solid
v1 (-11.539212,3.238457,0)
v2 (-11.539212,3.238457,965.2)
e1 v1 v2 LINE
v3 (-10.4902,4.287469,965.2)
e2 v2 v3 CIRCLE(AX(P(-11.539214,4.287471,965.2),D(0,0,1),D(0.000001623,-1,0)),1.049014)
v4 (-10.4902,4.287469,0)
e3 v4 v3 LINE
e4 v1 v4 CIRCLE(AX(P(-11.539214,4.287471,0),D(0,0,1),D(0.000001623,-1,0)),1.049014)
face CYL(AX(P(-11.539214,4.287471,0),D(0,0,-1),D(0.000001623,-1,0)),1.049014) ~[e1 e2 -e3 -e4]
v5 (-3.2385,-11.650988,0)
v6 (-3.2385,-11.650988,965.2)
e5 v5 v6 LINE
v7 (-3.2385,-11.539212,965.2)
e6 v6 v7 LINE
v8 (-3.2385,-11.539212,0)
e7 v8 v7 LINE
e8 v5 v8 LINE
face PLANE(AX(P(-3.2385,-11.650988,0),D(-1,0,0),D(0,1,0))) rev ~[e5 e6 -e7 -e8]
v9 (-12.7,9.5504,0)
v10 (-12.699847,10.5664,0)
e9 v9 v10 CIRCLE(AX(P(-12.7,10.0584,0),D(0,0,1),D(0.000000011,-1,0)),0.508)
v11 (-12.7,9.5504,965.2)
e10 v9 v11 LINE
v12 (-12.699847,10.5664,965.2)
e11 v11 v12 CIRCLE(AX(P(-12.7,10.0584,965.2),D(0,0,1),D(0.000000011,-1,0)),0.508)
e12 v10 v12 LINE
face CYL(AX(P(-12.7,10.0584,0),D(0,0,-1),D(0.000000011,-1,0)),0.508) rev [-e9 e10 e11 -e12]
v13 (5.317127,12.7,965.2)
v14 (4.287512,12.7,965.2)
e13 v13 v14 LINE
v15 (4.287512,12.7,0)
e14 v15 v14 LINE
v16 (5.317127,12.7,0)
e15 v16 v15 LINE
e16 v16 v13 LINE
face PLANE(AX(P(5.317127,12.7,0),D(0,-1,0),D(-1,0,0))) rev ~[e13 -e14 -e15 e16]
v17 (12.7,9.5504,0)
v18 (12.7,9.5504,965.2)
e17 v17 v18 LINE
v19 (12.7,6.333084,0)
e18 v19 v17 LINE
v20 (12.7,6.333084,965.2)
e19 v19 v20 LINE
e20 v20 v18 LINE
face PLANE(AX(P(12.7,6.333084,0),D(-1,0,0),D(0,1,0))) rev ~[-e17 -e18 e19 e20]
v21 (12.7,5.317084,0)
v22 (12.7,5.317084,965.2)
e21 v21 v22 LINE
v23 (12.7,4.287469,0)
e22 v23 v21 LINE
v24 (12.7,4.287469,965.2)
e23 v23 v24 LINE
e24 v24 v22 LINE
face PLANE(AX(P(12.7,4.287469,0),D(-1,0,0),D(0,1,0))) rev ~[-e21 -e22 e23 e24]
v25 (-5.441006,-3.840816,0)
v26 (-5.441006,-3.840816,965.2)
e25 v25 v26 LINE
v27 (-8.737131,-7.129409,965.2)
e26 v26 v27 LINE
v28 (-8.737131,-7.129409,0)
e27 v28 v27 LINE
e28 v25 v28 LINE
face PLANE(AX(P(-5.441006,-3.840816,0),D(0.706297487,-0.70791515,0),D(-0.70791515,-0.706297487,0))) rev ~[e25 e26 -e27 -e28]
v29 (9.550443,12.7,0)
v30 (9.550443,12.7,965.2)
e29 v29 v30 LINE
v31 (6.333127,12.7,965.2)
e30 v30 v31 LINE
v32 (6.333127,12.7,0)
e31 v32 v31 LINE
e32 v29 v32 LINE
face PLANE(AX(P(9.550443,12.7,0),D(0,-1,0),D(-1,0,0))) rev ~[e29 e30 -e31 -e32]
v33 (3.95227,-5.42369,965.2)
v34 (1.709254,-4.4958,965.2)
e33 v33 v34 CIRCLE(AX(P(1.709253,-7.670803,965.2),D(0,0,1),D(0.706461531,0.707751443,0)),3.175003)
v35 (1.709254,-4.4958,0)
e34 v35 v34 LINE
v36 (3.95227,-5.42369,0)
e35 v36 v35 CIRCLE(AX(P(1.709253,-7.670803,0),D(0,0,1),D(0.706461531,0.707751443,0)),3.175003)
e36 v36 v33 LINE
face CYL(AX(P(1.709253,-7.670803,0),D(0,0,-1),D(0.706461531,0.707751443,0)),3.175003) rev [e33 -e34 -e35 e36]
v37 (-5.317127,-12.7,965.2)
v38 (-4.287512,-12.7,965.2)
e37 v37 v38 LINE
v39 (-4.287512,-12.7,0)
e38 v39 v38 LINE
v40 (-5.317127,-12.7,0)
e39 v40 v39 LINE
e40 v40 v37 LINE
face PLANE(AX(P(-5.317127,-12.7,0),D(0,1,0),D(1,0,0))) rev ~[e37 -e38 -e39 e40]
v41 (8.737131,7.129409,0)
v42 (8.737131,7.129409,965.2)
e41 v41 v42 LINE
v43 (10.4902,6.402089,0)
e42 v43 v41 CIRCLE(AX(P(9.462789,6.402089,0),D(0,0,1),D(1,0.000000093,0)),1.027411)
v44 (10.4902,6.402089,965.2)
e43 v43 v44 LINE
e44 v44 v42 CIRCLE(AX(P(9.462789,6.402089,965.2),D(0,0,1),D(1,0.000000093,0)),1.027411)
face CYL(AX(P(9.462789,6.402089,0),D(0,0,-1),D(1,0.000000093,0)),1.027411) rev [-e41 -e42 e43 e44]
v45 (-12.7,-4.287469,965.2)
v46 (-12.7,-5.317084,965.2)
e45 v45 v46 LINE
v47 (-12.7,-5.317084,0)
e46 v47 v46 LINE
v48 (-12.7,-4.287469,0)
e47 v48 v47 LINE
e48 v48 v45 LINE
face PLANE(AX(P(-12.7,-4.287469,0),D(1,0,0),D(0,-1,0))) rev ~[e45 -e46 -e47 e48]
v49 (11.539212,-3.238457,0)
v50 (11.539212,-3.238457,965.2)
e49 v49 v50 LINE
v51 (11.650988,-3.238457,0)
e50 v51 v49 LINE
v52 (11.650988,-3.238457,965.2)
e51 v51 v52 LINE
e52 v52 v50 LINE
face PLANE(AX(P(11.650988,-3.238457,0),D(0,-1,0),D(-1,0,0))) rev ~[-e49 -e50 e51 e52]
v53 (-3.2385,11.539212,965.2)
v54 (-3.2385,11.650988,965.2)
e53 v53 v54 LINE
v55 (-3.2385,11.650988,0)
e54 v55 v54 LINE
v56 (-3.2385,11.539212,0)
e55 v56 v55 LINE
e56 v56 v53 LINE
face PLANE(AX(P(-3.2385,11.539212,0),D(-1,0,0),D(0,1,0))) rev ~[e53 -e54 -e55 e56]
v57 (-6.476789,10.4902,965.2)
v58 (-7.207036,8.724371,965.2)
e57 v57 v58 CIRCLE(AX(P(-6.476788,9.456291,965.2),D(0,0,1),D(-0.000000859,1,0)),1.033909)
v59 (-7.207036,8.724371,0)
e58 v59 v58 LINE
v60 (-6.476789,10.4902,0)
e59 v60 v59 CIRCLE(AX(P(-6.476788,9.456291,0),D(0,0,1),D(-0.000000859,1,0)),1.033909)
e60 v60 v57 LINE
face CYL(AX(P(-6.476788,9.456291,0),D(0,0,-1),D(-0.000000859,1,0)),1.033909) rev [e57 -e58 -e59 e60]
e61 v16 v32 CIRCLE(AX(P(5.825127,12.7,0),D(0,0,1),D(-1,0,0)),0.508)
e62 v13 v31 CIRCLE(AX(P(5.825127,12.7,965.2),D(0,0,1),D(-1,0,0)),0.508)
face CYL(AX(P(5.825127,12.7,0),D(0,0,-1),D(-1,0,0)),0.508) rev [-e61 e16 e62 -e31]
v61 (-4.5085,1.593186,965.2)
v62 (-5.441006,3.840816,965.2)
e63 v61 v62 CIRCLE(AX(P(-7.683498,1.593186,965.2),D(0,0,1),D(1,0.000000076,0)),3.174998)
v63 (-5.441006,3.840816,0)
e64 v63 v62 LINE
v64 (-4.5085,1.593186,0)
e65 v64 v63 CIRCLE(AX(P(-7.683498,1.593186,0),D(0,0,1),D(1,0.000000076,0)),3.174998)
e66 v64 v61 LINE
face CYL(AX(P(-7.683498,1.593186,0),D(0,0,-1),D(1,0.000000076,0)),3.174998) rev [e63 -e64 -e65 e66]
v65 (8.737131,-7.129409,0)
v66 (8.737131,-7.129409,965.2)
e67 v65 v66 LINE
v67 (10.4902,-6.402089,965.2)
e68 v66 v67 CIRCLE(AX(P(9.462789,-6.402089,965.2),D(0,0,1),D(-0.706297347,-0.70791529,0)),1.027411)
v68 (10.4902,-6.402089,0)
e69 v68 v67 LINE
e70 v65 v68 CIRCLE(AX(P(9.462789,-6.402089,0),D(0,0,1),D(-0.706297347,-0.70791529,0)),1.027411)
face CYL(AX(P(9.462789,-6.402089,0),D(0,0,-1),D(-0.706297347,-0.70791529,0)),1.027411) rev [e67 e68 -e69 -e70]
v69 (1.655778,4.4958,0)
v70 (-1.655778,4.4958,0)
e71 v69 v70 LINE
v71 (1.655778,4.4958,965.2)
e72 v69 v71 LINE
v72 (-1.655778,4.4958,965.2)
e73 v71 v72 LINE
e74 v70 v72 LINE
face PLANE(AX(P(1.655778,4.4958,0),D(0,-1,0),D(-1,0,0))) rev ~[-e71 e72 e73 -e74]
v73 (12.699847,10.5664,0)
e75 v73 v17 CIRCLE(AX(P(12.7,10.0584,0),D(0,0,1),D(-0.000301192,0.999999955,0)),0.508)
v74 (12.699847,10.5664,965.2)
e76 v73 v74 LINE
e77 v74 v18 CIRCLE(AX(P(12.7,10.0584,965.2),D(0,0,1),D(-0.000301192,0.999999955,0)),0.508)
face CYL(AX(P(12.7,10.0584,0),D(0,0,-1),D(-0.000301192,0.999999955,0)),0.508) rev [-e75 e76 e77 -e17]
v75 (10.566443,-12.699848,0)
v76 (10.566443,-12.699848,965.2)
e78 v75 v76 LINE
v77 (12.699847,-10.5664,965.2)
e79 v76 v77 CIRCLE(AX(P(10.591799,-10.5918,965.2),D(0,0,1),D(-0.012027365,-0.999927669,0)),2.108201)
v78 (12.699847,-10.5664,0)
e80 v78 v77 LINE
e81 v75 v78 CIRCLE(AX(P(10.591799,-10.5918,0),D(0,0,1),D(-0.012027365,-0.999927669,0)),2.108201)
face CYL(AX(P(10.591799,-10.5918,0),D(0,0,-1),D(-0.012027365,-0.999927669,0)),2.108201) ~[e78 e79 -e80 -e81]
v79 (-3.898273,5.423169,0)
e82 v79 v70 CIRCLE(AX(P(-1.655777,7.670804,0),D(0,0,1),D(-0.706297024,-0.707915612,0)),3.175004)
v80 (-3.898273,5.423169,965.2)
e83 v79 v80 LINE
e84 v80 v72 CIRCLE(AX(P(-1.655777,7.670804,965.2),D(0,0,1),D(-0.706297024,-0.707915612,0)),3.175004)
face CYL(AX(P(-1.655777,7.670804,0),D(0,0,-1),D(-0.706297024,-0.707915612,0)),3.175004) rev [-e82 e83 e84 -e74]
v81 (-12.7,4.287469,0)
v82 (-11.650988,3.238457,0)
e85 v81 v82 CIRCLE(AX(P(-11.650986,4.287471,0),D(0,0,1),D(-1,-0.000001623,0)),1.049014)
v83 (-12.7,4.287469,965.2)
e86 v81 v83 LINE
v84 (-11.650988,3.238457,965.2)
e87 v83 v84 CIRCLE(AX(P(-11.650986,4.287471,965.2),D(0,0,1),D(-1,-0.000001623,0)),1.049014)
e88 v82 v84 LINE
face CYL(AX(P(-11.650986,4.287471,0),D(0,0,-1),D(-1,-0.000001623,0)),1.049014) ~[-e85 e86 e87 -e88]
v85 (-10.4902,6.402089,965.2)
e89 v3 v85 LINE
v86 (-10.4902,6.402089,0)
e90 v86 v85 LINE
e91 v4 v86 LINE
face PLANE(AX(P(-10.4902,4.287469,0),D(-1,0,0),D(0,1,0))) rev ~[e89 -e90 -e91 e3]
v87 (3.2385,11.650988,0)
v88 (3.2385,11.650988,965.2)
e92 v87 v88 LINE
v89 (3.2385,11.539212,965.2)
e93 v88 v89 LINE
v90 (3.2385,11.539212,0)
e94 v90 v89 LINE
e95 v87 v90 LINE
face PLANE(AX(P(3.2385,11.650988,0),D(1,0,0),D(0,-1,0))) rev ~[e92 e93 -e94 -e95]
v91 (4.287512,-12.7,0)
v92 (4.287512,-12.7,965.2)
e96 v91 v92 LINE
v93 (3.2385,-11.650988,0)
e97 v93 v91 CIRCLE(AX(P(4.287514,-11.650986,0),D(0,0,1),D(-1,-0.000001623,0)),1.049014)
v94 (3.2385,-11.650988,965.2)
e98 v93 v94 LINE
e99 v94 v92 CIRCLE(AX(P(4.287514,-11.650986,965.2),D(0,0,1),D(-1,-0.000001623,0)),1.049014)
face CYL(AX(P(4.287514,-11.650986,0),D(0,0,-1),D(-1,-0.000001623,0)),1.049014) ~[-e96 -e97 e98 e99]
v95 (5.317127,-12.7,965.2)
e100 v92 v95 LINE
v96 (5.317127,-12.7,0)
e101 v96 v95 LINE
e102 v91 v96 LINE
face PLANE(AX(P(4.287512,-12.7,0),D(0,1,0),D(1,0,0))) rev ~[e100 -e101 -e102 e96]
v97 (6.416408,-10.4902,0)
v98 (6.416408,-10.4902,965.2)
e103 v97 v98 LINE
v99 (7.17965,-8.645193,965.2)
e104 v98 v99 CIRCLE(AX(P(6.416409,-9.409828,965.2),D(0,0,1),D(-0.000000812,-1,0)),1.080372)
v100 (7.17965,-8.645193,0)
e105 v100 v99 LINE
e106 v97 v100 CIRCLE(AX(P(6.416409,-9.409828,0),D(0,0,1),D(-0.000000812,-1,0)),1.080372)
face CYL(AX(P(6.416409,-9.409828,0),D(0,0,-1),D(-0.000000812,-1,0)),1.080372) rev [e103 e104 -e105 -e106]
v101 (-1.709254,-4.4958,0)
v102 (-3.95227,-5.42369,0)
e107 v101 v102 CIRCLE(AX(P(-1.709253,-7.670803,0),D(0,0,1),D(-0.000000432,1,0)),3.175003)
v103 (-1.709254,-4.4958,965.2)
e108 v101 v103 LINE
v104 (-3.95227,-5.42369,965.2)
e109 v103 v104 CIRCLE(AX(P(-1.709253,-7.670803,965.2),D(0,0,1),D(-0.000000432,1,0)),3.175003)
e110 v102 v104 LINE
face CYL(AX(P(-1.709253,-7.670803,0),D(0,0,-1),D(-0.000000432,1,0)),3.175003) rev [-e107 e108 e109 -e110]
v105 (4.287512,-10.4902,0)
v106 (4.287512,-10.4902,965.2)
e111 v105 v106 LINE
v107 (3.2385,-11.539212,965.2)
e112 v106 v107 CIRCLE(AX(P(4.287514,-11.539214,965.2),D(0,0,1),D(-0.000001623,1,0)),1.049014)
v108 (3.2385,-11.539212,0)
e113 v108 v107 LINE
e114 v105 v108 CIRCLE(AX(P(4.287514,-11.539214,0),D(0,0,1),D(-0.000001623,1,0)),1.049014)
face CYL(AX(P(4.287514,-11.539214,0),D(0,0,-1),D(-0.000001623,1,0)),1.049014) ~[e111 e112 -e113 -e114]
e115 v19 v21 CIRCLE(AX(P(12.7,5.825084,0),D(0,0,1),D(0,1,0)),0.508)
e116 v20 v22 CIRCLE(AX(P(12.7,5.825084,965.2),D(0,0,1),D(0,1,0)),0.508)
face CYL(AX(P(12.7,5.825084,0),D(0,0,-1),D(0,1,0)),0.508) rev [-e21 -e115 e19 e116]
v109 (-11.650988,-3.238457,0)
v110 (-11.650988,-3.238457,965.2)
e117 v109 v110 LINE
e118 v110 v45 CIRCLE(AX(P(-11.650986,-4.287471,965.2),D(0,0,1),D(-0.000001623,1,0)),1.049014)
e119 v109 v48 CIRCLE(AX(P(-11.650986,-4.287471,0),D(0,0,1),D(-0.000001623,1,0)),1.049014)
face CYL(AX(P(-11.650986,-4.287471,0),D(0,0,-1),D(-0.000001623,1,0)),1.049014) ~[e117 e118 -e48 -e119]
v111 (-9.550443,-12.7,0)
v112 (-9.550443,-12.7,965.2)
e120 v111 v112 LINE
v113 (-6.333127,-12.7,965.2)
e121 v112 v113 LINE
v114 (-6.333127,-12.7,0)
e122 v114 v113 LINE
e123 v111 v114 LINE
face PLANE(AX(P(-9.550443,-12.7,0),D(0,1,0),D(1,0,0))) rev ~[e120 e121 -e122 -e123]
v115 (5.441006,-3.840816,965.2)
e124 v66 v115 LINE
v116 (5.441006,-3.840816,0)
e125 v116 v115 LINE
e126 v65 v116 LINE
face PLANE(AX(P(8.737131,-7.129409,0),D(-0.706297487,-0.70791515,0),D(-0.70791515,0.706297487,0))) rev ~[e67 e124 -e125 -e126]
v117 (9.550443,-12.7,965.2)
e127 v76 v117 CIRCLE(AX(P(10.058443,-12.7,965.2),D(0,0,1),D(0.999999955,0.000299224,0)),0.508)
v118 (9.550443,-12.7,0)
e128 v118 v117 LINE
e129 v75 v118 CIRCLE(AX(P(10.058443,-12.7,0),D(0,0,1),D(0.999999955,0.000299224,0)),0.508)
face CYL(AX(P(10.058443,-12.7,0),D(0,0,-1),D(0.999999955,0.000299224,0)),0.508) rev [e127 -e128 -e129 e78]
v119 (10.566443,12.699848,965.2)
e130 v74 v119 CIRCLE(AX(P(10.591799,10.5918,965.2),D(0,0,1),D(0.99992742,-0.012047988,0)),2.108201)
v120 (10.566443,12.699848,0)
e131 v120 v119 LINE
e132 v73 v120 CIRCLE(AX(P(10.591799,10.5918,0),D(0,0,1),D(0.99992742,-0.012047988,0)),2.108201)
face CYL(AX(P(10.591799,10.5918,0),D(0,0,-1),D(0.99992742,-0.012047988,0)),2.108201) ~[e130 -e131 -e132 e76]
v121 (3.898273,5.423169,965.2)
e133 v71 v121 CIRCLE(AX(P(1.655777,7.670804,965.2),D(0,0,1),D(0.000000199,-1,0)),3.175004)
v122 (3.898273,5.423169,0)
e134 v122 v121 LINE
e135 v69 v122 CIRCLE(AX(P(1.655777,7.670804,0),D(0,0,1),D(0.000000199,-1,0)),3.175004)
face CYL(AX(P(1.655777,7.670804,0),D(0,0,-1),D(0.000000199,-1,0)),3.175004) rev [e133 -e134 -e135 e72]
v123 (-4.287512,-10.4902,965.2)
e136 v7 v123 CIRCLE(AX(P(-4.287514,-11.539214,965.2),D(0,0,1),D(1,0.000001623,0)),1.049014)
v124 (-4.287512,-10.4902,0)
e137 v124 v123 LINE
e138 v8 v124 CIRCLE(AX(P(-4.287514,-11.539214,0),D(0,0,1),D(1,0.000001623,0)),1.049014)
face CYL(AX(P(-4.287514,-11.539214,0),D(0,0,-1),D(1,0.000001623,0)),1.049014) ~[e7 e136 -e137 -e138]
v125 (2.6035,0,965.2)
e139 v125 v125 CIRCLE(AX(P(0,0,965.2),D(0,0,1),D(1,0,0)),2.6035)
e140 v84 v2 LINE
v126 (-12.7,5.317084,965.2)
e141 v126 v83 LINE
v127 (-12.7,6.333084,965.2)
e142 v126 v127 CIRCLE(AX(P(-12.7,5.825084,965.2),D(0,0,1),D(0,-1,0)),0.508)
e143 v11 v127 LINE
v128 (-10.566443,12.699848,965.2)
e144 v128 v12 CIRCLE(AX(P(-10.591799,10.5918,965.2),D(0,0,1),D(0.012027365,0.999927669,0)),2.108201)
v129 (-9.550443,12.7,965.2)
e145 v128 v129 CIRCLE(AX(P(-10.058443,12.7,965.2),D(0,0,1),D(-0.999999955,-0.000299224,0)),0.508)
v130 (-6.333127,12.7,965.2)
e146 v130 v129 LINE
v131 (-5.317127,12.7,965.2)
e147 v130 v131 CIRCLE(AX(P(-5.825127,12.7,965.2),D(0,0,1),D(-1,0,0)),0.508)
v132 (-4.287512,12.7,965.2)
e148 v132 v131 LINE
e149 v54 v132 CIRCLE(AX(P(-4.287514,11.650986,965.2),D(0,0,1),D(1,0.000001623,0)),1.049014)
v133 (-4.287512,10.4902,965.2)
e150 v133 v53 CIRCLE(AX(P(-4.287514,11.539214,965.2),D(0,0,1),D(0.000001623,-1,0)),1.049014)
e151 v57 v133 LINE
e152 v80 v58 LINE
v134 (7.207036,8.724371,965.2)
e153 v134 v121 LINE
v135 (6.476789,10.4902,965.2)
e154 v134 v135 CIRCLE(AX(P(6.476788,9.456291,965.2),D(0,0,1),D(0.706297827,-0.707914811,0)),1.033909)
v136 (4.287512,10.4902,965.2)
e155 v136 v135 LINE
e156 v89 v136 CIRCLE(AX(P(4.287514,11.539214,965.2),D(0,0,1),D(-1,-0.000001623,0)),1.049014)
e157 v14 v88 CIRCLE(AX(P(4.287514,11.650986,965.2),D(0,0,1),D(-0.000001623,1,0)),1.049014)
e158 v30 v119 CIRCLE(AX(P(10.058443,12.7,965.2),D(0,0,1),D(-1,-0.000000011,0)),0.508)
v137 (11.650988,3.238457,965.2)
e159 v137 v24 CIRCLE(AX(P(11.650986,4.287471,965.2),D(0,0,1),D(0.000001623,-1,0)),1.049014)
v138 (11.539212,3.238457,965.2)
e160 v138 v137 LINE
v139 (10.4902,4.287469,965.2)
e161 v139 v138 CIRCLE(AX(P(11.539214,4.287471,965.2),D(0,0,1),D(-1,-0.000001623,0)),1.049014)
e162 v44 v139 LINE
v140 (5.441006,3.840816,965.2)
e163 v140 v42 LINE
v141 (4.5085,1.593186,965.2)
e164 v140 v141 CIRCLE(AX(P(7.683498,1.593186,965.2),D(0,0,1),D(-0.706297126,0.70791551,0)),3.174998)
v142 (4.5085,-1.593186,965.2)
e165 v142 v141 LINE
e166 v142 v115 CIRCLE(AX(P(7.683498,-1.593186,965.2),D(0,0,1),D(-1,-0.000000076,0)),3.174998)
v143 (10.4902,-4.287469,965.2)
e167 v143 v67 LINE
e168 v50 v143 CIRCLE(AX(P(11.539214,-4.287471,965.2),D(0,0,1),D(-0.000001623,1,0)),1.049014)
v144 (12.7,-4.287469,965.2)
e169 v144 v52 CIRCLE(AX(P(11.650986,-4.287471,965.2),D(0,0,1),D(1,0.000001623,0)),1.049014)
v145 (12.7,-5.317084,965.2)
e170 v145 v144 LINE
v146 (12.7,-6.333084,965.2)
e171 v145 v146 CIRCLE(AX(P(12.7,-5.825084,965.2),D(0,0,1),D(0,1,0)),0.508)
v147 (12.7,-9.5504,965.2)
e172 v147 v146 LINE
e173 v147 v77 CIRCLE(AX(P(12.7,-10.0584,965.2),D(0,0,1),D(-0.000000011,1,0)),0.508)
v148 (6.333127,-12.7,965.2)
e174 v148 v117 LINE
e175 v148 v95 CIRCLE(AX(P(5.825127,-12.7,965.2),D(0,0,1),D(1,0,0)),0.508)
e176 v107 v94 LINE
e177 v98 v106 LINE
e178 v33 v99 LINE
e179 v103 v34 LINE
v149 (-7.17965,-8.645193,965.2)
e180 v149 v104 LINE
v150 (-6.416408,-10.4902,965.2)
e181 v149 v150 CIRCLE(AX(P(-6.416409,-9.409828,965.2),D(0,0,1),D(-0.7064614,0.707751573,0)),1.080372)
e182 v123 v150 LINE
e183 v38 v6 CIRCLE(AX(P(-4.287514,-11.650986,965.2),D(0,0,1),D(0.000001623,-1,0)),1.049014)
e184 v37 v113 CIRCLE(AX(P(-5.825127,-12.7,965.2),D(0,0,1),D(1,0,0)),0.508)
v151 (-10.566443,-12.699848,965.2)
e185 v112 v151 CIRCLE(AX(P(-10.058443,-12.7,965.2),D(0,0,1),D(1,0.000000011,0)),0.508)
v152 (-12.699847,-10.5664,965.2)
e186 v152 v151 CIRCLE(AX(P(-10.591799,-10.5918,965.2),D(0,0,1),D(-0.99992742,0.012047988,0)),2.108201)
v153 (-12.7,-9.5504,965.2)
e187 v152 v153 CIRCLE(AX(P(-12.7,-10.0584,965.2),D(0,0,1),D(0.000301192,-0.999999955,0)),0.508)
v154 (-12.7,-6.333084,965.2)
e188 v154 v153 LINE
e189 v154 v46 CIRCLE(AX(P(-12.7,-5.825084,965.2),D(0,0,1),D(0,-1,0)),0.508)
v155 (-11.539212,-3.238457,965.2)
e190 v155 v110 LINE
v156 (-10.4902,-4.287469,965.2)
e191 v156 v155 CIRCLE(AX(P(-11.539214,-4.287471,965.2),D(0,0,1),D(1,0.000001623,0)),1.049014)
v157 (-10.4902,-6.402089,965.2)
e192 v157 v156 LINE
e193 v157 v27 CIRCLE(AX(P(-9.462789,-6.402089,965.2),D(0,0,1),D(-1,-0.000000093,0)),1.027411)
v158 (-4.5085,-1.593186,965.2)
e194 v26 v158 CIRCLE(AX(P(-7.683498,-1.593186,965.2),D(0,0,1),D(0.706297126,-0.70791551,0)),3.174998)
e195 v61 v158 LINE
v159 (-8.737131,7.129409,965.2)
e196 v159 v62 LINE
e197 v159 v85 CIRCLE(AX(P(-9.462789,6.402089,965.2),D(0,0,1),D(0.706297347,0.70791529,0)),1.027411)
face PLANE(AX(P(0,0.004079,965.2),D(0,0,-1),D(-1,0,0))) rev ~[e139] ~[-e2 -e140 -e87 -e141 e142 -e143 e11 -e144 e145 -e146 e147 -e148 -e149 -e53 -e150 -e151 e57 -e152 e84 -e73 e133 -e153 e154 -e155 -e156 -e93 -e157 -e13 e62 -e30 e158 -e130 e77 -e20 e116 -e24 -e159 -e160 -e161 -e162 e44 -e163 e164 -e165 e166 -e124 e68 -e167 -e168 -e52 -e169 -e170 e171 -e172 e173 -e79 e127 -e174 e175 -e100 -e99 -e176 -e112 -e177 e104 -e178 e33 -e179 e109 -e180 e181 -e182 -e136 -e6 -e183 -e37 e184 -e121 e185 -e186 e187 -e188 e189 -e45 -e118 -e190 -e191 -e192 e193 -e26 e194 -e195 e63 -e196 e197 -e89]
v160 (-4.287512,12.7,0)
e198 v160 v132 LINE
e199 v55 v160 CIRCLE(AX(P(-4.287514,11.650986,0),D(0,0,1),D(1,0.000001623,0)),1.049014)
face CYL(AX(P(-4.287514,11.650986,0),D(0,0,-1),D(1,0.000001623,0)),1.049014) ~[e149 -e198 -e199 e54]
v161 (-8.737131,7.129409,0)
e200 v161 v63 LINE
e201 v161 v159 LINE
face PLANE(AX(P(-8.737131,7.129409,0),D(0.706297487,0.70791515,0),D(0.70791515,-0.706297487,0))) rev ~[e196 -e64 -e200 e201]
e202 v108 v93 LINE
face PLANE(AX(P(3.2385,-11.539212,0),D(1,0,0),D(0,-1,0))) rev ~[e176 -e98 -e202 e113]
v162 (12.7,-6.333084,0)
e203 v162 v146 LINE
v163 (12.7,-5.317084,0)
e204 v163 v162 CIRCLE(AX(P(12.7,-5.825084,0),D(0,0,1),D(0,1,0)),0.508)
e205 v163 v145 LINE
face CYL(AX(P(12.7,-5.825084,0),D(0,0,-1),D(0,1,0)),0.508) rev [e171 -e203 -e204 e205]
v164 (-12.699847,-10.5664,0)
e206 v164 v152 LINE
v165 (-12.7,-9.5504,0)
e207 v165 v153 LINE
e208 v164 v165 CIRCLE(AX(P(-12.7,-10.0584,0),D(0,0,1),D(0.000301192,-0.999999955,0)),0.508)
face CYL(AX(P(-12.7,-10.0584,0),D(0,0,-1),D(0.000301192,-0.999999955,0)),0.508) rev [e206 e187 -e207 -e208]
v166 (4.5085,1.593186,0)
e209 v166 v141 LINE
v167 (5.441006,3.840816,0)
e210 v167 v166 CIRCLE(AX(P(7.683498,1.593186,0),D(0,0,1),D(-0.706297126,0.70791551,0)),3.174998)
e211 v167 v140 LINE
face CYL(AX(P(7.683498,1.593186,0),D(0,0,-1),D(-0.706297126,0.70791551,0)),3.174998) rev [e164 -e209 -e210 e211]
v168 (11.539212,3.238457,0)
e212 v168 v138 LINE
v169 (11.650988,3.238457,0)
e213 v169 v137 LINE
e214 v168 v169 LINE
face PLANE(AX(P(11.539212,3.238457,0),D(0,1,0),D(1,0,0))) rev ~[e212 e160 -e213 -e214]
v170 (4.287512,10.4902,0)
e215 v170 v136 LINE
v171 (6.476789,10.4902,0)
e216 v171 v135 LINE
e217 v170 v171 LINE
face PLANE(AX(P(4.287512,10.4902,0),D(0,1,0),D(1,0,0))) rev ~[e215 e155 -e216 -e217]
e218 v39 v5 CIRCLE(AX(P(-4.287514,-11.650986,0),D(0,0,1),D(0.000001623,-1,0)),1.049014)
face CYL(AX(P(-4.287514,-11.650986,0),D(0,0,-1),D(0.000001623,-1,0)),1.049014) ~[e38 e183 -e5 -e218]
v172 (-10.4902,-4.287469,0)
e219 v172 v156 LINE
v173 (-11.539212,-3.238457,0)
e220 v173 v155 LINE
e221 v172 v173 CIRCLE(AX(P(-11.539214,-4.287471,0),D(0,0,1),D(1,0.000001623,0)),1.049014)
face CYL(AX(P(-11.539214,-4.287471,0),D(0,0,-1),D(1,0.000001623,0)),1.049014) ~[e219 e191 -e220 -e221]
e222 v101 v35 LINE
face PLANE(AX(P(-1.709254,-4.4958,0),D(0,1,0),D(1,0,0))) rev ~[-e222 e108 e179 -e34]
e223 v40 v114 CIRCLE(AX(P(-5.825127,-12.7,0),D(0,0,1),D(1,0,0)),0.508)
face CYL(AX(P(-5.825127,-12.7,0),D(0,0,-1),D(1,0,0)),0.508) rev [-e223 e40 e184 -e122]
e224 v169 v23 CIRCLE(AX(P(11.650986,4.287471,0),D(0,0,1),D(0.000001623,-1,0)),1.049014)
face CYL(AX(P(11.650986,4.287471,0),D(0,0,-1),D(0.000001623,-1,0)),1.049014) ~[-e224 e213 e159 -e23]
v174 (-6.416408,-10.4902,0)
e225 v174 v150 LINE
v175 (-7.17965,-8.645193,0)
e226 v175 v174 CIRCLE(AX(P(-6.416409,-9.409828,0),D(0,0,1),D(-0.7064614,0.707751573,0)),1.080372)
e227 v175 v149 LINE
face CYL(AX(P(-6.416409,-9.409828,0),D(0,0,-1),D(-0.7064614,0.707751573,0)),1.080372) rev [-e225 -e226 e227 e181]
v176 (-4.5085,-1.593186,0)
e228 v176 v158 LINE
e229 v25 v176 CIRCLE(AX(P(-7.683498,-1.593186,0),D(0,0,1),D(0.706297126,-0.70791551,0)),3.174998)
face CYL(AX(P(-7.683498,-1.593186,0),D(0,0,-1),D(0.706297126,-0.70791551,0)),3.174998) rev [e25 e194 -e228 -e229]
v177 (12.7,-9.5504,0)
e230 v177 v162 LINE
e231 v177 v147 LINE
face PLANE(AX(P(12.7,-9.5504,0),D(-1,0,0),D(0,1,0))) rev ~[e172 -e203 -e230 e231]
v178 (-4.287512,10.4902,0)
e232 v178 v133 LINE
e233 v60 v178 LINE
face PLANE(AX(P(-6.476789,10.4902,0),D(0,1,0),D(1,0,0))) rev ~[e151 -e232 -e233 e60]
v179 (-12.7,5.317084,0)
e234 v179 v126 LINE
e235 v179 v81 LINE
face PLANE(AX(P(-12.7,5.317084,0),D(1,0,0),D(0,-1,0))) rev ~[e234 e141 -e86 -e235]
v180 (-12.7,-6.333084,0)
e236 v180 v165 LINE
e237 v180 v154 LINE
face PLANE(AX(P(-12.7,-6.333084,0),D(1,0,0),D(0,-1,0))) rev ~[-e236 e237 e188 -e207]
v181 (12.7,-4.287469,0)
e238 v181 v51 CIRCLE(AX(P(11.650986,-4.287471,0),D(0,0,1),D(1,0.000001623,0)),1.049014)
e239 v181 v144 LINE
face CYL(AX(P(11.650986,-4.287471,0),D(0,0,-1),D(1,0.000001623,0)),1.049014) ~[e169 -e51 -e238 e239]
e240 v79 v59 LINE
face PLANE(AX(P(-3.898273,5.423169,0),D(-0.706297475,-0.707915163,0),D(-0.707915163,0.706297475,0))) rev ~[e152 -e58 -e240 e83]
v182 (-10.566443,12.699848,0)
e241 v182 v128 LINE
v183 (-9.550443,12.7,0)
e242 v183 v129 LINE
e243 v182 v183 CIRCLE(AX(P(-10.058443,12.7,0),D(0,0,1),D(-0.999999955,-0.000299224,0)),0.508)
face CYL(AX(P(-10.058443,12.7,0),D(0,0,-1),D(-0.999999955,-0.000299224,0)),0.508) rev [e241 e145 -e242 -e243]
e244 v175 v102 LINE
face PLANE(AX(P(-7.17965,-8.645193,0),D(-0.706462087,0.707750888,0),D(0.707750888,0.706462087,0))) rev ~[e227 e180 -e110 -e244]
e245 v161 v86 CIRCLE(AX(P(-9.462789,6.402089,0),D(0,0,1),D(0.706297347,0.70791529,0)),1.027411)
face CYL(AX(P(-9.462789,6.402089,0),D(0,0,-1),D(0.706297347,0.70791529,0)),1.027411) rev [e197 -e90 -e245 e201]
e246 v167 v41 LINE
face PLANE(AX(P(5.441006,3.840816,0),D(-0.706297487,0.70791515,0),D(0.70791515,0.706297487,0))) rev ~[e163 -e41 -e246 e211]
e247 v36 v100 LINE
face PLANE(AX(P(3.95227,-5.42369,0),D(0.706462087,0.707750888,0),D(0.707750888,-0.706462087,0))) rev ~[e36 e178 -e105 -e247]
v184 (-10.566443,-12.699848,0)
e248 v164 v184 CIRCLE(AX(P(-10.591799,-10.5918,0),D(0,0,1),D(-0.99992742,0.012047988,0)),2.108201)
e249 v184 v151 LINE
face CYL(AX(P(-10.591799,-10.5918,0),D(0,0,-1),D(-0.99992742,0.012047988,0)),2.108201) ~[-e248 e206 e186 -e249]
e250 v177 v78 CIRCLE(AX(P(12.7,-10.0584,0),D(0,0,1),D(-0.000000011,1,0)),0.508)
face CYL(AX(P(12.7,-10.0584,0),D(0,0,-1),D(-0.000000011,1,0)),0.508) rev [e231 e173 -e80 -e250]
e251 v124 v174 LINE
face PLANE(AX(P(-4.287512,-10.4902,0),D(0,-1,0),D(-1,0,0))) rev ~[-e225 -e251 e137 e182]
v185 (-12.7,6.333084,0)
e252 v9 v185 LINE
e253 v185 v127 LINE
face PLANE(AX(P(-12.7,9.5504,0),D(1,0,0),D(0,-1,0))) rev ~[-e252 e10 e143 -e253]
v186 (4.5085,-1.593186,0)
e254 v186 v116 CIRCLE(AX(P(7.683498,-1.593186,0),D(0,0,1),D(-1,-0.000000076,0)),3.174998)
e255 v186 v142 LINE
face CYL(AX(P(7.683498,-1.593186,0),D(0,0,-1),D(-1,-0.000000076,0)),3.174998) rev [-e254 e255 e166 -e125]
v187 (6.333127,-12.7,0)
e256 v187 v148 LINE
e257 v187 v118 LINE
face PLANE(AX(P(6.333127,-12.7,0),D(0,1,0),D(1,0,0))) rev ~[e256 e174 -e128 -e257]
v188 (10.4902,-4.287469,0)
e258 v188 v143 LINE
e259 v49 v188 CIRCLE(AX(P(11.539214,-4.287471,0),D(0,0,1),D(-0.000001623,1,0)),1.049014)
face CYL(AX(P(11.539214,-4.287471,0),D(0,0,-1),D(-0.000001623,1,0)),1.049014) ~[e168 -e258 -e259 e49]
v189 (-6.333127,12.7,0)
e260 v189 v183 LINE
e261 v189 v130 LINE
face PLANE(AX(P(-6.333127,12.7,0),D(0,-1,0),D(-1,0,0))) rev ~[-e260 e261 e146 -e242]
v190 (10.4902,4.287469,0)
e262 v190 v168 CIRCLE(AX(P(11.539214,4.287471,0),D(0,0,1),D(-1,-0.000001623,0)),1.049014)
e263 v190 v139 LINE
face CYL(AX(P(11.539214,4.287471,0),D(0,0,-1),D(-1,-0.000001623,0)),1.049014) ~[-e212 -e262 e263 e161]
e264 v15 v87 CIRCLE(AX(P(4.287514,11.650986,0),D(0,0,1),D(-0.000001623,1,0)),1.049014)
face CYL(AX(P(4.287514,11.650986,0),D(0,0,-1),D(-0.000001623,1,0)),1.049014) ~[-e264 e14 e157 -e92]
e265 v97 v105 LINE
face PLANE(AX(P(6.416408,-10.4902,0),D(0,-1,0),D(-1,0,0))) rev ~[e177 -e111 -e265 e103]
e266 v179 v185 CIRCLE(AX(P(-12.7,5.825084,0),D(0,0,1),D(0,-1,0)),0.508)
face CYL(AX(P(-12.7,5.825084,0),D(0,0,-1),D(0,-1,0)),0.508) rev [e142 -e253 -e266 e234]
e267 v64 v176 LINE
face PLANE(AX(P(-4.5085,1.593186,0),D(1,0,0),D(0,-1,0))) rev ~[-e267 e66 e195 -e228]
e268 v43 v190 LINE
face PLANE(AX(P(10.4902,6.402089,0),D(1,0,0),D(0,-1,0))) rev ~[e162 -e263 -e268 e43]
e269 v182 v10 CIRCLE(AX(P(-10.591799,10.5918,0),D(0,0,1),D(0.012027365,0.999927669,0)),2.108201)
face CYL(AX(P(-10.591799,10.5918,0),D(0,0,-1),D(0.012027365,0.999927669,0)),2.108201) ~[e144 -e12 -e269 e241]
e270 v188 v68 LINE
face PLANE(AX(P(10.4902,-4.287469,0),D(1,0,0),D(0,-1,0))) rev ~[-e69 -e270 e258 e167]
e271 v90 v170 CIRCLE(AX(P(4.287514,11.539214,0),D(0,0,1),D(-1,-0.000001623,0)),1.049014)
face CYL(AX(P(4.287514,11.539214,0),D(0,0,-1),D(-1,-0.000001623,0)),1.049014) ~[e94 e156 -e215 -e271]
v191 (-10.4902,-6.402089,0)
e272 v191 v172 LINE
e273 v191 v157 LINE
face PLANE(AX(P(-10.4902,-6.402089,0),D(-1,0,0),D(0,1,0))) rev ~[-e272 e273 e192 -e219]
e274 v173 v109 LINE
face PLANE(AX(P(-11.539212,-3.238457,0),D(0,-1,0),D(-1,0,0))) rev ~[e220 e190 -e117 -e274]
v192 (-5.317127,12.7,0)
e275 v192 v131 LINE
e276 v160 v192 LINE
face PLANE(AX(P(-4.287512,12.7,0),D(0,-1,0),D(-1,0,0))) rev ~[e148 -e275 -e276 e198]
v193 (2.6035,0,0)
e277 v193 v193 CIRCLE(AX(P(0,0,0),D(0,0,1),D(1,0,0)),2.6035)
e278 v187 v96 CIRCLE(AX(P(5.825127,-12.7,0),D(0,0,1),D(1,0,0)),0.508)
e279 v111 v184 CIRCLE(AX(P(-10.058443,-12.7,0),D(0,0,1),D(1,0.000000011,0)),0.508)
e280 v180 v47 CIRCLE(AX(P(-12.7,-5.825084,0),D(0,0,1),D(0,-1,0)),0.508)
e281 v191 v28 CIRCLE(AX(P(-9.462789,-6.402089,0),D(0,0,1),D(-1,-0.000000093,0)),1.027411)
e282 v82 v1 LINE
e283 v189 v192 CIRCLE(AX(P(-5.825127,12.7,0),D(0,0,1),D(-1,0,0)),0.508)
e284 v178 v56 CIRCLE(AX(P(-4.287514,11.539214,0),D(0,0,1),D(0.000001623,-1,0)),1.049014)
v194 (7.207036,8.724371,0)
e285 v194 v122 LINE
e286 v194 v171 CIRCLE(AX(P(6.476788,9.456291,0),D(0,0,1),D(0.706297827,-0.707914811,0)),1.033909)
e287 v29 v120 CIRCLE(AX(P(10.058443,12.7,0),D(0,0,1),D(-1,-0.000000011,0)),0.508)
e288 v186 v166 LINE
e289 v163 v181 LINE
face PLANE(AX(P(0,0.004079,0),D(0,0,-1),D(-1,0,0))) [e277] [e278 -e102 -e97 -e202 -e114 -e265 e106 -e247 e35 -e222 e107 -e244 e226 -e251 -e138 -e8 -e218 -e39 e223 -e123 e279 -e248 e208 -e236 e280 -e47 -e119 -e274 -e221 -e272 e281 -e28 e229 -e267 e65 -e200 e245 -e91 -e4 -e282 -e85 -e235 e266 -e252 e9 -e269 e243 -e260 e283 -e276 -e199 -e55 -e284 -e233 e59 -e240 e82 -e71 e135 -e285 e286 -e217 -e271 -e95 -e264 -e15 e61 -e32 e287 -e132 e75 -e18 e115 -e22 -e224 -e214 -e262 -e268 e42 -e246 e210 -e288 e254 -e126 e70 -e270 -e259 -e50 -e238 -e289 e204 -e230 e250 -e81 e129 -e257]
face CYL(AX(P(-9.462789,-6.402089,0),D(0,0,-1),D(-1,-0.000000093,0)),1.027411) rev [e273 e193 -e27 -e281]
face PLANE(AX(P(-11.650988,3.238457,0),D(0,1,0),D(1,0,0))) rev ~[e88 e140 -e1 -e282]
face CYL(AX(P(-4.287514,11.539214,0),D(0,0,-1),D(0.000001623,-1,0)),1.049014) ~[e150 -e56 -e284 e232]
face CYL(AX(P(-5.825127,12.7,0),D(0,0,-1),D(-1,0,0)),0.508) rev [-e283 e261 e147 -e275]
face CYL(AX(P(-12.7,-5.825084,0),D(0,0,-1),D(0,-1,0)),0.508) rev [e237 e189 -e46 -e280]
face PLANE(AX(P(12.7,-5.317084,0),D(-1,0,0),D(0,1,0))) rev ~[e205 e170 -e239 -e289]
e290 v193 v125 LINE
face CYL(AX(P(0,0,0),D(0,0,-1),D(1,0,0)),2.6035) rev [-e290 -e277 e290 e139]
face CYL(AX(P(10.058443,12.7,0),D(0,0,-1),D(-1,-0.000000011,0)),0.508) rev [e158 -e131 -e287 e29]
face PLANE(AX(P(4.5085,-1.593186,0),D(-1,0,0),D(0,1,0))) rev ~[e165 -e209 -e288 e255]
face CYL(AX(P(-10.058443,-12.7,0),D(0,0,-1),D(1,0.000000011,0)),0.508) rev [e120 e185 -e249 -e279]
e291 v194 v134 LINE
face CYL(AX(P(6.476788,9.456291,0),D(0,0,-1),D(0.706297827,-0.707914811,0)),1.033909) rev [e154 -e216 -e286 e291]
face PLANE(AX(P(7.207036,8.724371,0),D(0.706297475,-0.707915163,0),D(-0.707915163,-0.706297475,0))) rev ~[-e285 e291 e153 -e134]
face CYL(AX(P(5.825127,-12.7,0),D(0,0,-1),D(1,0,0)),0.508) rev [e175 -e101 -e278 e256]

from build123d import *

# Parameters (mm, degrees)
SKETCH097_R   = 2.6035
EXTRUDE_DEPTH = 965.2


with BuildPart() as part:
    # Sketch097 → Extrude (new body)
    with BuildSketch(Plane.XY):
        with BuildLine():
            ThreePointArc((12.7, 6.333084), (12.192, 5.825084), (12.7, 5.317084))
            Line((12.7, 4.287469), (12.7, 5.317084))
            ThreePointArc((11.650988, 3.238457), (12.392751, 3.545706), (12.7, 4.287469))
            Line((11.539212, 3.238457), (11.650988, 3.238457))
            ThreePointArc((10.4902, 4.287469), (10.797449, 3.545706), (11.539212, 3.238457))
            Line((10.4902, 6.402089), (10.4902, 4.287469))
            ThreePointArc((10.4902, 6.402089), (9.856505, 7.351068), (8.737131, 7.129409))
            Line((5.441006, 3.840816), (8.737131, 7.129409))
            ThreePointArc((5.441006, 3.840816), (4.750878, 2.809883), (4.5085, 1.593186))
            Line((4.5085, -1.593186), (4.5085, 1.593186))
            ThreePointArc((4.5085, -1.593186), (4.750878, -2.809883), (5.441006, -3.840816))
            Line((8.737131, -7.129409), (5.441006, -3.840816))
            ThreePointArc((8.737131, -7.129409), (9.856505, -7.351068), (10.4902, -6.402089))
            Line((10.4902, -4.287469), (10.4902, -6.402089))
            ThreePointArc((11.539212, -3.238457), (10.797449, -3.545706), (10.4902, -4.287469))
            Line((11.650988, -3.238457), (11.539212, -3.238457))
            ThreePointArc((12.7, -4.287469), (12.392751, -3.545706), (11.650988, -3.238457))
            Line((12.7, -5.317084), (12.7, -4.287469))
            ThreePointArc((12.7, -5.317084), (12.192, -5.825084), (12.7, -6.333084))
            Line((12.7, -9.5504), (12.7, -6.333084))
            ThreePointArc((12.7, -9.5504), (12.192, -10.058323), (12.699847, -10.5664))
            ThreePointArc((10.566443, -12.699848), (12.082538, -12.082507), (12.699847, -10.5664))
            ThreePointArc((10.566443, -12.699848), (10.058367, -12.192), (9.550443, -12.7))
            Line((6.333127, -12.7), (9.550443, -12.7))
            ThreePointArc((6.333127, -12.7), (5.825127, -12.192), (5.317127, -12.7))
            Line((4.287512, -12.7), (5.317127, -12.7))
            ThreePointArc((3.2385, -11.650988), (3.545749, -12.392751), (4.287512, -12.7))
            Line((3.2385, -11.539212), (3.2385, -11.650988))
            ThreePointArc((4.287512, -10.4902), (3.545749, -10.797449), (3.2385, -11.539212))
            Line((6.416408, -10.4902), (4.287512, -10.4902))
            ThreePointArc((6.416408, -10.4902), (7.414731, -9.822813), (7.17965, -8.645193))
            Line((3.95227, -5.42369), (7.17965, -8.645193))
            ThreePointArc((3.95227, -5.42369), (2.922936, -4.736929), (1.709254, -4.4958))
            Line((-1.709254, -4.4958), (1.709254, -4.4958))
            ThreePointArc((-1.709254, -4.4958), (-2.922936, -4.736929), (-3.95227, -5.42369))
            Line((-7.17965, -8.645193), (-3.95227, -5.42369))
            ThreePointArc((-7.17965, -8.645193), (-7.414731, -9.822813), (-6.416408, -10.4902))
            Line((-4.287512, -10.4902), (-6.416408, -10.4902))
            ThreePointArc((-3.2385, -11.539212), (-3.545749, -10.797449), (-4.287512, -10.4902))
            Line((-3.2385, -11.650988), (-3.2385, -11.539212))
            ThreePointArc((-4.287512, -12.7), (-3.545749, -12.392751), (-3.2385, -11.650988))
            Line((-5.317127, -12.7), (-4.287512, -12.7))
            ThreePointArc((-5.317127, -12.7), (-5.825127, -12.192), (-6.333127, -12.7))
            Line((-9.550443, -12.7), (-6.333127, -12.7))
            ThreePointArc((-9.550443, -12.7), (-10.058367, -12.192), (-10.566443, -12.699848))
            ThreePointArc((-12.699847, -10.5664), (-12.082538, -12.082507), (-10.566443, -12.699848))
            ThreePointArc((-12.699847, -10.5664), (-12.192, -10.058323), (-12.7, -9.5504))
            Line((-12.7, -6.333084), (-12.7, -9.5504))
            ThreePointArc((-12.7, -6.333084), (-12.192, -5.825084), (-12.7, -5.317084))
            Line((-12.7, -4.287469), (-12.7, -5.317084))
            ThreePointArc((-11.650988, -3.238457), (-12.392751, -3.545706), (-12.7, -4.287469))
            Line((-11.539212, -3.238457), (-11.650988, -3.238457))
            ThreePointArc((-10.4902, -4.287469), (-10.797449, -3.545706), (-11.539212, -3.238457))
            Line((-10.4902, -6.402089), (-10.4902, -4.287469))
            ThreePointArc((-10.4902, -6.402089), (-9.856505, -7.351068), (-8.737131, -7.129409))
            Line((-5.441006, -3.840816), (-8.737131, -7.129409))
            ThreePointArc((-5.441006, -3.840816), (-4.750878, -2.809883), (-4.5085, -1.593186))
            Line((-4.5085, 1.593186), (-4.5085, -1.593186))
            ThreePointArc((-4.5085, 1.593186), (-4.750878, 2.809883), (-5.441006, 3.840816))
            Line((-8.737131, 7.129409), (-5.441006, 3.840816))
            ThreePointArc((-8.737131, 7.129409), (-9.856505, 7.351068), (-10.4902, 6.402089))
            Line((-10.4902, 4.287469), (-10.4902, 6.402089))
            ThreePointArc((-11.539212, 3.238457), (-10.797449, 3.545706), (-10.4902, 4.287469))
            Line((-11.650988, 3.238457), (-11.539212, 3.238457))
            ThreePointArc((-12.7, 4.287469), (-12.392751, 3.545706), (-11.650988, 3.238457))
            Line((-12.7, 5.317084), (-12.7, 4.287469))
            ThreePointArc((-12.7, 5.317084), (-12.192, 5.825084), (-12.7, 6.333084))
            Line((-12.7, 9.5504), (-12.7, 6.333084))
            ThreePointArc((-12.7, 9.5504), (-12.192, 10.058323), (-12.699847, 10.5664))
            ThreePointArc((-10.566443, 12.699848), (-12.082538, 12.082507), (-12.699847, 10.5664))
            ThreePointArc((-10.566443, 12.699848), (-10.058367, 12.192), (-9.550443, 12.7))
            Line((-6.333127, 12.7), (-9.550443, 12.7))
            ThreePointArc((-6.333127, 12.7), (-5.825127, 12.192), (-5.317127, 12.7))
            Line((-4.287512, 12.7), (-5.317127, 12.7))
            ThreePointArc((-3.2385, 11.650988), (-3.545749, 12.392751), (-4.287512, 12.7))
            Line((-3.2385, 11.539212), (-3.2385, 11.650988))
            ThreePointArc((-4.287512, 10.4902), (-3.545749, 10.797449), (-3.2385, 11.539212))
            Line((-6.476789, 10.4902), (-4.287512, 10.4902))
            ThreePointArc((-6.476789, 10.4902), (-7.432222, 9.851404), (-7.207036, 8.724371))
            Line((-3.898273, 5.423169), (-7.207036, 8.724371))
            ThreePointArc((-3.898273, 5.423169), (-2.86912, 4.736788), (-1.655778, 4.4958))
            Line((1.655778, 4.4958), (-1.655778, 4.4958))
            ThreePointArc((1.655778, 4.4958), (2.86912, 4.736788), (3.898273, 5.423169))
            Line((7.207036, 8.724371), (3.898273, 5.423169))
            ThreePointArc((7.207036, 8.724371), (7.432222, 9.851404), (6.476789, 10.4902))
            Line((4.287512, 10.4902), (6.476789, 10.4902))
            ThreePointArc((3.2385, 11.539212), (3.545749, 10.797449), (4.287512, 10.4902))
            Line((3.2385, 11.650988), (3.2385, 11.539212))
            ThreePointArc((4.287512, 12.7), (3.545749, 12.392751), (3.2385, 11.650988))
            Line((5.317127, 12.7), (4.287512, 12.7))
            ThreePointArc((5.317127, 12.7), (5.825127, 12.192), (6.333127, 12.7))
            Line((9.550443, 12.7), (6.333127, 12.7))
            ThreePointArc((9.550443, 12.7), (10.058367, 12.192), (10.566443, 12.699848))
            ThreePointArc((12.699847, 10.5664), (12.082538, 12.082507), (10.566443, 12.699848))
            ThreePointArc((12.699847, 10.5664), (12.192, 10.058323), (12.7, 9.5504))
            Line((12.7, 6.333084), (12.7, 9.5504))
        make_face()
        Circle(SKETCH097_R, mode=Mode.SUBTRACT)
    extrude(amount=EXTRUDE_DEPTH)


solid = part.part
